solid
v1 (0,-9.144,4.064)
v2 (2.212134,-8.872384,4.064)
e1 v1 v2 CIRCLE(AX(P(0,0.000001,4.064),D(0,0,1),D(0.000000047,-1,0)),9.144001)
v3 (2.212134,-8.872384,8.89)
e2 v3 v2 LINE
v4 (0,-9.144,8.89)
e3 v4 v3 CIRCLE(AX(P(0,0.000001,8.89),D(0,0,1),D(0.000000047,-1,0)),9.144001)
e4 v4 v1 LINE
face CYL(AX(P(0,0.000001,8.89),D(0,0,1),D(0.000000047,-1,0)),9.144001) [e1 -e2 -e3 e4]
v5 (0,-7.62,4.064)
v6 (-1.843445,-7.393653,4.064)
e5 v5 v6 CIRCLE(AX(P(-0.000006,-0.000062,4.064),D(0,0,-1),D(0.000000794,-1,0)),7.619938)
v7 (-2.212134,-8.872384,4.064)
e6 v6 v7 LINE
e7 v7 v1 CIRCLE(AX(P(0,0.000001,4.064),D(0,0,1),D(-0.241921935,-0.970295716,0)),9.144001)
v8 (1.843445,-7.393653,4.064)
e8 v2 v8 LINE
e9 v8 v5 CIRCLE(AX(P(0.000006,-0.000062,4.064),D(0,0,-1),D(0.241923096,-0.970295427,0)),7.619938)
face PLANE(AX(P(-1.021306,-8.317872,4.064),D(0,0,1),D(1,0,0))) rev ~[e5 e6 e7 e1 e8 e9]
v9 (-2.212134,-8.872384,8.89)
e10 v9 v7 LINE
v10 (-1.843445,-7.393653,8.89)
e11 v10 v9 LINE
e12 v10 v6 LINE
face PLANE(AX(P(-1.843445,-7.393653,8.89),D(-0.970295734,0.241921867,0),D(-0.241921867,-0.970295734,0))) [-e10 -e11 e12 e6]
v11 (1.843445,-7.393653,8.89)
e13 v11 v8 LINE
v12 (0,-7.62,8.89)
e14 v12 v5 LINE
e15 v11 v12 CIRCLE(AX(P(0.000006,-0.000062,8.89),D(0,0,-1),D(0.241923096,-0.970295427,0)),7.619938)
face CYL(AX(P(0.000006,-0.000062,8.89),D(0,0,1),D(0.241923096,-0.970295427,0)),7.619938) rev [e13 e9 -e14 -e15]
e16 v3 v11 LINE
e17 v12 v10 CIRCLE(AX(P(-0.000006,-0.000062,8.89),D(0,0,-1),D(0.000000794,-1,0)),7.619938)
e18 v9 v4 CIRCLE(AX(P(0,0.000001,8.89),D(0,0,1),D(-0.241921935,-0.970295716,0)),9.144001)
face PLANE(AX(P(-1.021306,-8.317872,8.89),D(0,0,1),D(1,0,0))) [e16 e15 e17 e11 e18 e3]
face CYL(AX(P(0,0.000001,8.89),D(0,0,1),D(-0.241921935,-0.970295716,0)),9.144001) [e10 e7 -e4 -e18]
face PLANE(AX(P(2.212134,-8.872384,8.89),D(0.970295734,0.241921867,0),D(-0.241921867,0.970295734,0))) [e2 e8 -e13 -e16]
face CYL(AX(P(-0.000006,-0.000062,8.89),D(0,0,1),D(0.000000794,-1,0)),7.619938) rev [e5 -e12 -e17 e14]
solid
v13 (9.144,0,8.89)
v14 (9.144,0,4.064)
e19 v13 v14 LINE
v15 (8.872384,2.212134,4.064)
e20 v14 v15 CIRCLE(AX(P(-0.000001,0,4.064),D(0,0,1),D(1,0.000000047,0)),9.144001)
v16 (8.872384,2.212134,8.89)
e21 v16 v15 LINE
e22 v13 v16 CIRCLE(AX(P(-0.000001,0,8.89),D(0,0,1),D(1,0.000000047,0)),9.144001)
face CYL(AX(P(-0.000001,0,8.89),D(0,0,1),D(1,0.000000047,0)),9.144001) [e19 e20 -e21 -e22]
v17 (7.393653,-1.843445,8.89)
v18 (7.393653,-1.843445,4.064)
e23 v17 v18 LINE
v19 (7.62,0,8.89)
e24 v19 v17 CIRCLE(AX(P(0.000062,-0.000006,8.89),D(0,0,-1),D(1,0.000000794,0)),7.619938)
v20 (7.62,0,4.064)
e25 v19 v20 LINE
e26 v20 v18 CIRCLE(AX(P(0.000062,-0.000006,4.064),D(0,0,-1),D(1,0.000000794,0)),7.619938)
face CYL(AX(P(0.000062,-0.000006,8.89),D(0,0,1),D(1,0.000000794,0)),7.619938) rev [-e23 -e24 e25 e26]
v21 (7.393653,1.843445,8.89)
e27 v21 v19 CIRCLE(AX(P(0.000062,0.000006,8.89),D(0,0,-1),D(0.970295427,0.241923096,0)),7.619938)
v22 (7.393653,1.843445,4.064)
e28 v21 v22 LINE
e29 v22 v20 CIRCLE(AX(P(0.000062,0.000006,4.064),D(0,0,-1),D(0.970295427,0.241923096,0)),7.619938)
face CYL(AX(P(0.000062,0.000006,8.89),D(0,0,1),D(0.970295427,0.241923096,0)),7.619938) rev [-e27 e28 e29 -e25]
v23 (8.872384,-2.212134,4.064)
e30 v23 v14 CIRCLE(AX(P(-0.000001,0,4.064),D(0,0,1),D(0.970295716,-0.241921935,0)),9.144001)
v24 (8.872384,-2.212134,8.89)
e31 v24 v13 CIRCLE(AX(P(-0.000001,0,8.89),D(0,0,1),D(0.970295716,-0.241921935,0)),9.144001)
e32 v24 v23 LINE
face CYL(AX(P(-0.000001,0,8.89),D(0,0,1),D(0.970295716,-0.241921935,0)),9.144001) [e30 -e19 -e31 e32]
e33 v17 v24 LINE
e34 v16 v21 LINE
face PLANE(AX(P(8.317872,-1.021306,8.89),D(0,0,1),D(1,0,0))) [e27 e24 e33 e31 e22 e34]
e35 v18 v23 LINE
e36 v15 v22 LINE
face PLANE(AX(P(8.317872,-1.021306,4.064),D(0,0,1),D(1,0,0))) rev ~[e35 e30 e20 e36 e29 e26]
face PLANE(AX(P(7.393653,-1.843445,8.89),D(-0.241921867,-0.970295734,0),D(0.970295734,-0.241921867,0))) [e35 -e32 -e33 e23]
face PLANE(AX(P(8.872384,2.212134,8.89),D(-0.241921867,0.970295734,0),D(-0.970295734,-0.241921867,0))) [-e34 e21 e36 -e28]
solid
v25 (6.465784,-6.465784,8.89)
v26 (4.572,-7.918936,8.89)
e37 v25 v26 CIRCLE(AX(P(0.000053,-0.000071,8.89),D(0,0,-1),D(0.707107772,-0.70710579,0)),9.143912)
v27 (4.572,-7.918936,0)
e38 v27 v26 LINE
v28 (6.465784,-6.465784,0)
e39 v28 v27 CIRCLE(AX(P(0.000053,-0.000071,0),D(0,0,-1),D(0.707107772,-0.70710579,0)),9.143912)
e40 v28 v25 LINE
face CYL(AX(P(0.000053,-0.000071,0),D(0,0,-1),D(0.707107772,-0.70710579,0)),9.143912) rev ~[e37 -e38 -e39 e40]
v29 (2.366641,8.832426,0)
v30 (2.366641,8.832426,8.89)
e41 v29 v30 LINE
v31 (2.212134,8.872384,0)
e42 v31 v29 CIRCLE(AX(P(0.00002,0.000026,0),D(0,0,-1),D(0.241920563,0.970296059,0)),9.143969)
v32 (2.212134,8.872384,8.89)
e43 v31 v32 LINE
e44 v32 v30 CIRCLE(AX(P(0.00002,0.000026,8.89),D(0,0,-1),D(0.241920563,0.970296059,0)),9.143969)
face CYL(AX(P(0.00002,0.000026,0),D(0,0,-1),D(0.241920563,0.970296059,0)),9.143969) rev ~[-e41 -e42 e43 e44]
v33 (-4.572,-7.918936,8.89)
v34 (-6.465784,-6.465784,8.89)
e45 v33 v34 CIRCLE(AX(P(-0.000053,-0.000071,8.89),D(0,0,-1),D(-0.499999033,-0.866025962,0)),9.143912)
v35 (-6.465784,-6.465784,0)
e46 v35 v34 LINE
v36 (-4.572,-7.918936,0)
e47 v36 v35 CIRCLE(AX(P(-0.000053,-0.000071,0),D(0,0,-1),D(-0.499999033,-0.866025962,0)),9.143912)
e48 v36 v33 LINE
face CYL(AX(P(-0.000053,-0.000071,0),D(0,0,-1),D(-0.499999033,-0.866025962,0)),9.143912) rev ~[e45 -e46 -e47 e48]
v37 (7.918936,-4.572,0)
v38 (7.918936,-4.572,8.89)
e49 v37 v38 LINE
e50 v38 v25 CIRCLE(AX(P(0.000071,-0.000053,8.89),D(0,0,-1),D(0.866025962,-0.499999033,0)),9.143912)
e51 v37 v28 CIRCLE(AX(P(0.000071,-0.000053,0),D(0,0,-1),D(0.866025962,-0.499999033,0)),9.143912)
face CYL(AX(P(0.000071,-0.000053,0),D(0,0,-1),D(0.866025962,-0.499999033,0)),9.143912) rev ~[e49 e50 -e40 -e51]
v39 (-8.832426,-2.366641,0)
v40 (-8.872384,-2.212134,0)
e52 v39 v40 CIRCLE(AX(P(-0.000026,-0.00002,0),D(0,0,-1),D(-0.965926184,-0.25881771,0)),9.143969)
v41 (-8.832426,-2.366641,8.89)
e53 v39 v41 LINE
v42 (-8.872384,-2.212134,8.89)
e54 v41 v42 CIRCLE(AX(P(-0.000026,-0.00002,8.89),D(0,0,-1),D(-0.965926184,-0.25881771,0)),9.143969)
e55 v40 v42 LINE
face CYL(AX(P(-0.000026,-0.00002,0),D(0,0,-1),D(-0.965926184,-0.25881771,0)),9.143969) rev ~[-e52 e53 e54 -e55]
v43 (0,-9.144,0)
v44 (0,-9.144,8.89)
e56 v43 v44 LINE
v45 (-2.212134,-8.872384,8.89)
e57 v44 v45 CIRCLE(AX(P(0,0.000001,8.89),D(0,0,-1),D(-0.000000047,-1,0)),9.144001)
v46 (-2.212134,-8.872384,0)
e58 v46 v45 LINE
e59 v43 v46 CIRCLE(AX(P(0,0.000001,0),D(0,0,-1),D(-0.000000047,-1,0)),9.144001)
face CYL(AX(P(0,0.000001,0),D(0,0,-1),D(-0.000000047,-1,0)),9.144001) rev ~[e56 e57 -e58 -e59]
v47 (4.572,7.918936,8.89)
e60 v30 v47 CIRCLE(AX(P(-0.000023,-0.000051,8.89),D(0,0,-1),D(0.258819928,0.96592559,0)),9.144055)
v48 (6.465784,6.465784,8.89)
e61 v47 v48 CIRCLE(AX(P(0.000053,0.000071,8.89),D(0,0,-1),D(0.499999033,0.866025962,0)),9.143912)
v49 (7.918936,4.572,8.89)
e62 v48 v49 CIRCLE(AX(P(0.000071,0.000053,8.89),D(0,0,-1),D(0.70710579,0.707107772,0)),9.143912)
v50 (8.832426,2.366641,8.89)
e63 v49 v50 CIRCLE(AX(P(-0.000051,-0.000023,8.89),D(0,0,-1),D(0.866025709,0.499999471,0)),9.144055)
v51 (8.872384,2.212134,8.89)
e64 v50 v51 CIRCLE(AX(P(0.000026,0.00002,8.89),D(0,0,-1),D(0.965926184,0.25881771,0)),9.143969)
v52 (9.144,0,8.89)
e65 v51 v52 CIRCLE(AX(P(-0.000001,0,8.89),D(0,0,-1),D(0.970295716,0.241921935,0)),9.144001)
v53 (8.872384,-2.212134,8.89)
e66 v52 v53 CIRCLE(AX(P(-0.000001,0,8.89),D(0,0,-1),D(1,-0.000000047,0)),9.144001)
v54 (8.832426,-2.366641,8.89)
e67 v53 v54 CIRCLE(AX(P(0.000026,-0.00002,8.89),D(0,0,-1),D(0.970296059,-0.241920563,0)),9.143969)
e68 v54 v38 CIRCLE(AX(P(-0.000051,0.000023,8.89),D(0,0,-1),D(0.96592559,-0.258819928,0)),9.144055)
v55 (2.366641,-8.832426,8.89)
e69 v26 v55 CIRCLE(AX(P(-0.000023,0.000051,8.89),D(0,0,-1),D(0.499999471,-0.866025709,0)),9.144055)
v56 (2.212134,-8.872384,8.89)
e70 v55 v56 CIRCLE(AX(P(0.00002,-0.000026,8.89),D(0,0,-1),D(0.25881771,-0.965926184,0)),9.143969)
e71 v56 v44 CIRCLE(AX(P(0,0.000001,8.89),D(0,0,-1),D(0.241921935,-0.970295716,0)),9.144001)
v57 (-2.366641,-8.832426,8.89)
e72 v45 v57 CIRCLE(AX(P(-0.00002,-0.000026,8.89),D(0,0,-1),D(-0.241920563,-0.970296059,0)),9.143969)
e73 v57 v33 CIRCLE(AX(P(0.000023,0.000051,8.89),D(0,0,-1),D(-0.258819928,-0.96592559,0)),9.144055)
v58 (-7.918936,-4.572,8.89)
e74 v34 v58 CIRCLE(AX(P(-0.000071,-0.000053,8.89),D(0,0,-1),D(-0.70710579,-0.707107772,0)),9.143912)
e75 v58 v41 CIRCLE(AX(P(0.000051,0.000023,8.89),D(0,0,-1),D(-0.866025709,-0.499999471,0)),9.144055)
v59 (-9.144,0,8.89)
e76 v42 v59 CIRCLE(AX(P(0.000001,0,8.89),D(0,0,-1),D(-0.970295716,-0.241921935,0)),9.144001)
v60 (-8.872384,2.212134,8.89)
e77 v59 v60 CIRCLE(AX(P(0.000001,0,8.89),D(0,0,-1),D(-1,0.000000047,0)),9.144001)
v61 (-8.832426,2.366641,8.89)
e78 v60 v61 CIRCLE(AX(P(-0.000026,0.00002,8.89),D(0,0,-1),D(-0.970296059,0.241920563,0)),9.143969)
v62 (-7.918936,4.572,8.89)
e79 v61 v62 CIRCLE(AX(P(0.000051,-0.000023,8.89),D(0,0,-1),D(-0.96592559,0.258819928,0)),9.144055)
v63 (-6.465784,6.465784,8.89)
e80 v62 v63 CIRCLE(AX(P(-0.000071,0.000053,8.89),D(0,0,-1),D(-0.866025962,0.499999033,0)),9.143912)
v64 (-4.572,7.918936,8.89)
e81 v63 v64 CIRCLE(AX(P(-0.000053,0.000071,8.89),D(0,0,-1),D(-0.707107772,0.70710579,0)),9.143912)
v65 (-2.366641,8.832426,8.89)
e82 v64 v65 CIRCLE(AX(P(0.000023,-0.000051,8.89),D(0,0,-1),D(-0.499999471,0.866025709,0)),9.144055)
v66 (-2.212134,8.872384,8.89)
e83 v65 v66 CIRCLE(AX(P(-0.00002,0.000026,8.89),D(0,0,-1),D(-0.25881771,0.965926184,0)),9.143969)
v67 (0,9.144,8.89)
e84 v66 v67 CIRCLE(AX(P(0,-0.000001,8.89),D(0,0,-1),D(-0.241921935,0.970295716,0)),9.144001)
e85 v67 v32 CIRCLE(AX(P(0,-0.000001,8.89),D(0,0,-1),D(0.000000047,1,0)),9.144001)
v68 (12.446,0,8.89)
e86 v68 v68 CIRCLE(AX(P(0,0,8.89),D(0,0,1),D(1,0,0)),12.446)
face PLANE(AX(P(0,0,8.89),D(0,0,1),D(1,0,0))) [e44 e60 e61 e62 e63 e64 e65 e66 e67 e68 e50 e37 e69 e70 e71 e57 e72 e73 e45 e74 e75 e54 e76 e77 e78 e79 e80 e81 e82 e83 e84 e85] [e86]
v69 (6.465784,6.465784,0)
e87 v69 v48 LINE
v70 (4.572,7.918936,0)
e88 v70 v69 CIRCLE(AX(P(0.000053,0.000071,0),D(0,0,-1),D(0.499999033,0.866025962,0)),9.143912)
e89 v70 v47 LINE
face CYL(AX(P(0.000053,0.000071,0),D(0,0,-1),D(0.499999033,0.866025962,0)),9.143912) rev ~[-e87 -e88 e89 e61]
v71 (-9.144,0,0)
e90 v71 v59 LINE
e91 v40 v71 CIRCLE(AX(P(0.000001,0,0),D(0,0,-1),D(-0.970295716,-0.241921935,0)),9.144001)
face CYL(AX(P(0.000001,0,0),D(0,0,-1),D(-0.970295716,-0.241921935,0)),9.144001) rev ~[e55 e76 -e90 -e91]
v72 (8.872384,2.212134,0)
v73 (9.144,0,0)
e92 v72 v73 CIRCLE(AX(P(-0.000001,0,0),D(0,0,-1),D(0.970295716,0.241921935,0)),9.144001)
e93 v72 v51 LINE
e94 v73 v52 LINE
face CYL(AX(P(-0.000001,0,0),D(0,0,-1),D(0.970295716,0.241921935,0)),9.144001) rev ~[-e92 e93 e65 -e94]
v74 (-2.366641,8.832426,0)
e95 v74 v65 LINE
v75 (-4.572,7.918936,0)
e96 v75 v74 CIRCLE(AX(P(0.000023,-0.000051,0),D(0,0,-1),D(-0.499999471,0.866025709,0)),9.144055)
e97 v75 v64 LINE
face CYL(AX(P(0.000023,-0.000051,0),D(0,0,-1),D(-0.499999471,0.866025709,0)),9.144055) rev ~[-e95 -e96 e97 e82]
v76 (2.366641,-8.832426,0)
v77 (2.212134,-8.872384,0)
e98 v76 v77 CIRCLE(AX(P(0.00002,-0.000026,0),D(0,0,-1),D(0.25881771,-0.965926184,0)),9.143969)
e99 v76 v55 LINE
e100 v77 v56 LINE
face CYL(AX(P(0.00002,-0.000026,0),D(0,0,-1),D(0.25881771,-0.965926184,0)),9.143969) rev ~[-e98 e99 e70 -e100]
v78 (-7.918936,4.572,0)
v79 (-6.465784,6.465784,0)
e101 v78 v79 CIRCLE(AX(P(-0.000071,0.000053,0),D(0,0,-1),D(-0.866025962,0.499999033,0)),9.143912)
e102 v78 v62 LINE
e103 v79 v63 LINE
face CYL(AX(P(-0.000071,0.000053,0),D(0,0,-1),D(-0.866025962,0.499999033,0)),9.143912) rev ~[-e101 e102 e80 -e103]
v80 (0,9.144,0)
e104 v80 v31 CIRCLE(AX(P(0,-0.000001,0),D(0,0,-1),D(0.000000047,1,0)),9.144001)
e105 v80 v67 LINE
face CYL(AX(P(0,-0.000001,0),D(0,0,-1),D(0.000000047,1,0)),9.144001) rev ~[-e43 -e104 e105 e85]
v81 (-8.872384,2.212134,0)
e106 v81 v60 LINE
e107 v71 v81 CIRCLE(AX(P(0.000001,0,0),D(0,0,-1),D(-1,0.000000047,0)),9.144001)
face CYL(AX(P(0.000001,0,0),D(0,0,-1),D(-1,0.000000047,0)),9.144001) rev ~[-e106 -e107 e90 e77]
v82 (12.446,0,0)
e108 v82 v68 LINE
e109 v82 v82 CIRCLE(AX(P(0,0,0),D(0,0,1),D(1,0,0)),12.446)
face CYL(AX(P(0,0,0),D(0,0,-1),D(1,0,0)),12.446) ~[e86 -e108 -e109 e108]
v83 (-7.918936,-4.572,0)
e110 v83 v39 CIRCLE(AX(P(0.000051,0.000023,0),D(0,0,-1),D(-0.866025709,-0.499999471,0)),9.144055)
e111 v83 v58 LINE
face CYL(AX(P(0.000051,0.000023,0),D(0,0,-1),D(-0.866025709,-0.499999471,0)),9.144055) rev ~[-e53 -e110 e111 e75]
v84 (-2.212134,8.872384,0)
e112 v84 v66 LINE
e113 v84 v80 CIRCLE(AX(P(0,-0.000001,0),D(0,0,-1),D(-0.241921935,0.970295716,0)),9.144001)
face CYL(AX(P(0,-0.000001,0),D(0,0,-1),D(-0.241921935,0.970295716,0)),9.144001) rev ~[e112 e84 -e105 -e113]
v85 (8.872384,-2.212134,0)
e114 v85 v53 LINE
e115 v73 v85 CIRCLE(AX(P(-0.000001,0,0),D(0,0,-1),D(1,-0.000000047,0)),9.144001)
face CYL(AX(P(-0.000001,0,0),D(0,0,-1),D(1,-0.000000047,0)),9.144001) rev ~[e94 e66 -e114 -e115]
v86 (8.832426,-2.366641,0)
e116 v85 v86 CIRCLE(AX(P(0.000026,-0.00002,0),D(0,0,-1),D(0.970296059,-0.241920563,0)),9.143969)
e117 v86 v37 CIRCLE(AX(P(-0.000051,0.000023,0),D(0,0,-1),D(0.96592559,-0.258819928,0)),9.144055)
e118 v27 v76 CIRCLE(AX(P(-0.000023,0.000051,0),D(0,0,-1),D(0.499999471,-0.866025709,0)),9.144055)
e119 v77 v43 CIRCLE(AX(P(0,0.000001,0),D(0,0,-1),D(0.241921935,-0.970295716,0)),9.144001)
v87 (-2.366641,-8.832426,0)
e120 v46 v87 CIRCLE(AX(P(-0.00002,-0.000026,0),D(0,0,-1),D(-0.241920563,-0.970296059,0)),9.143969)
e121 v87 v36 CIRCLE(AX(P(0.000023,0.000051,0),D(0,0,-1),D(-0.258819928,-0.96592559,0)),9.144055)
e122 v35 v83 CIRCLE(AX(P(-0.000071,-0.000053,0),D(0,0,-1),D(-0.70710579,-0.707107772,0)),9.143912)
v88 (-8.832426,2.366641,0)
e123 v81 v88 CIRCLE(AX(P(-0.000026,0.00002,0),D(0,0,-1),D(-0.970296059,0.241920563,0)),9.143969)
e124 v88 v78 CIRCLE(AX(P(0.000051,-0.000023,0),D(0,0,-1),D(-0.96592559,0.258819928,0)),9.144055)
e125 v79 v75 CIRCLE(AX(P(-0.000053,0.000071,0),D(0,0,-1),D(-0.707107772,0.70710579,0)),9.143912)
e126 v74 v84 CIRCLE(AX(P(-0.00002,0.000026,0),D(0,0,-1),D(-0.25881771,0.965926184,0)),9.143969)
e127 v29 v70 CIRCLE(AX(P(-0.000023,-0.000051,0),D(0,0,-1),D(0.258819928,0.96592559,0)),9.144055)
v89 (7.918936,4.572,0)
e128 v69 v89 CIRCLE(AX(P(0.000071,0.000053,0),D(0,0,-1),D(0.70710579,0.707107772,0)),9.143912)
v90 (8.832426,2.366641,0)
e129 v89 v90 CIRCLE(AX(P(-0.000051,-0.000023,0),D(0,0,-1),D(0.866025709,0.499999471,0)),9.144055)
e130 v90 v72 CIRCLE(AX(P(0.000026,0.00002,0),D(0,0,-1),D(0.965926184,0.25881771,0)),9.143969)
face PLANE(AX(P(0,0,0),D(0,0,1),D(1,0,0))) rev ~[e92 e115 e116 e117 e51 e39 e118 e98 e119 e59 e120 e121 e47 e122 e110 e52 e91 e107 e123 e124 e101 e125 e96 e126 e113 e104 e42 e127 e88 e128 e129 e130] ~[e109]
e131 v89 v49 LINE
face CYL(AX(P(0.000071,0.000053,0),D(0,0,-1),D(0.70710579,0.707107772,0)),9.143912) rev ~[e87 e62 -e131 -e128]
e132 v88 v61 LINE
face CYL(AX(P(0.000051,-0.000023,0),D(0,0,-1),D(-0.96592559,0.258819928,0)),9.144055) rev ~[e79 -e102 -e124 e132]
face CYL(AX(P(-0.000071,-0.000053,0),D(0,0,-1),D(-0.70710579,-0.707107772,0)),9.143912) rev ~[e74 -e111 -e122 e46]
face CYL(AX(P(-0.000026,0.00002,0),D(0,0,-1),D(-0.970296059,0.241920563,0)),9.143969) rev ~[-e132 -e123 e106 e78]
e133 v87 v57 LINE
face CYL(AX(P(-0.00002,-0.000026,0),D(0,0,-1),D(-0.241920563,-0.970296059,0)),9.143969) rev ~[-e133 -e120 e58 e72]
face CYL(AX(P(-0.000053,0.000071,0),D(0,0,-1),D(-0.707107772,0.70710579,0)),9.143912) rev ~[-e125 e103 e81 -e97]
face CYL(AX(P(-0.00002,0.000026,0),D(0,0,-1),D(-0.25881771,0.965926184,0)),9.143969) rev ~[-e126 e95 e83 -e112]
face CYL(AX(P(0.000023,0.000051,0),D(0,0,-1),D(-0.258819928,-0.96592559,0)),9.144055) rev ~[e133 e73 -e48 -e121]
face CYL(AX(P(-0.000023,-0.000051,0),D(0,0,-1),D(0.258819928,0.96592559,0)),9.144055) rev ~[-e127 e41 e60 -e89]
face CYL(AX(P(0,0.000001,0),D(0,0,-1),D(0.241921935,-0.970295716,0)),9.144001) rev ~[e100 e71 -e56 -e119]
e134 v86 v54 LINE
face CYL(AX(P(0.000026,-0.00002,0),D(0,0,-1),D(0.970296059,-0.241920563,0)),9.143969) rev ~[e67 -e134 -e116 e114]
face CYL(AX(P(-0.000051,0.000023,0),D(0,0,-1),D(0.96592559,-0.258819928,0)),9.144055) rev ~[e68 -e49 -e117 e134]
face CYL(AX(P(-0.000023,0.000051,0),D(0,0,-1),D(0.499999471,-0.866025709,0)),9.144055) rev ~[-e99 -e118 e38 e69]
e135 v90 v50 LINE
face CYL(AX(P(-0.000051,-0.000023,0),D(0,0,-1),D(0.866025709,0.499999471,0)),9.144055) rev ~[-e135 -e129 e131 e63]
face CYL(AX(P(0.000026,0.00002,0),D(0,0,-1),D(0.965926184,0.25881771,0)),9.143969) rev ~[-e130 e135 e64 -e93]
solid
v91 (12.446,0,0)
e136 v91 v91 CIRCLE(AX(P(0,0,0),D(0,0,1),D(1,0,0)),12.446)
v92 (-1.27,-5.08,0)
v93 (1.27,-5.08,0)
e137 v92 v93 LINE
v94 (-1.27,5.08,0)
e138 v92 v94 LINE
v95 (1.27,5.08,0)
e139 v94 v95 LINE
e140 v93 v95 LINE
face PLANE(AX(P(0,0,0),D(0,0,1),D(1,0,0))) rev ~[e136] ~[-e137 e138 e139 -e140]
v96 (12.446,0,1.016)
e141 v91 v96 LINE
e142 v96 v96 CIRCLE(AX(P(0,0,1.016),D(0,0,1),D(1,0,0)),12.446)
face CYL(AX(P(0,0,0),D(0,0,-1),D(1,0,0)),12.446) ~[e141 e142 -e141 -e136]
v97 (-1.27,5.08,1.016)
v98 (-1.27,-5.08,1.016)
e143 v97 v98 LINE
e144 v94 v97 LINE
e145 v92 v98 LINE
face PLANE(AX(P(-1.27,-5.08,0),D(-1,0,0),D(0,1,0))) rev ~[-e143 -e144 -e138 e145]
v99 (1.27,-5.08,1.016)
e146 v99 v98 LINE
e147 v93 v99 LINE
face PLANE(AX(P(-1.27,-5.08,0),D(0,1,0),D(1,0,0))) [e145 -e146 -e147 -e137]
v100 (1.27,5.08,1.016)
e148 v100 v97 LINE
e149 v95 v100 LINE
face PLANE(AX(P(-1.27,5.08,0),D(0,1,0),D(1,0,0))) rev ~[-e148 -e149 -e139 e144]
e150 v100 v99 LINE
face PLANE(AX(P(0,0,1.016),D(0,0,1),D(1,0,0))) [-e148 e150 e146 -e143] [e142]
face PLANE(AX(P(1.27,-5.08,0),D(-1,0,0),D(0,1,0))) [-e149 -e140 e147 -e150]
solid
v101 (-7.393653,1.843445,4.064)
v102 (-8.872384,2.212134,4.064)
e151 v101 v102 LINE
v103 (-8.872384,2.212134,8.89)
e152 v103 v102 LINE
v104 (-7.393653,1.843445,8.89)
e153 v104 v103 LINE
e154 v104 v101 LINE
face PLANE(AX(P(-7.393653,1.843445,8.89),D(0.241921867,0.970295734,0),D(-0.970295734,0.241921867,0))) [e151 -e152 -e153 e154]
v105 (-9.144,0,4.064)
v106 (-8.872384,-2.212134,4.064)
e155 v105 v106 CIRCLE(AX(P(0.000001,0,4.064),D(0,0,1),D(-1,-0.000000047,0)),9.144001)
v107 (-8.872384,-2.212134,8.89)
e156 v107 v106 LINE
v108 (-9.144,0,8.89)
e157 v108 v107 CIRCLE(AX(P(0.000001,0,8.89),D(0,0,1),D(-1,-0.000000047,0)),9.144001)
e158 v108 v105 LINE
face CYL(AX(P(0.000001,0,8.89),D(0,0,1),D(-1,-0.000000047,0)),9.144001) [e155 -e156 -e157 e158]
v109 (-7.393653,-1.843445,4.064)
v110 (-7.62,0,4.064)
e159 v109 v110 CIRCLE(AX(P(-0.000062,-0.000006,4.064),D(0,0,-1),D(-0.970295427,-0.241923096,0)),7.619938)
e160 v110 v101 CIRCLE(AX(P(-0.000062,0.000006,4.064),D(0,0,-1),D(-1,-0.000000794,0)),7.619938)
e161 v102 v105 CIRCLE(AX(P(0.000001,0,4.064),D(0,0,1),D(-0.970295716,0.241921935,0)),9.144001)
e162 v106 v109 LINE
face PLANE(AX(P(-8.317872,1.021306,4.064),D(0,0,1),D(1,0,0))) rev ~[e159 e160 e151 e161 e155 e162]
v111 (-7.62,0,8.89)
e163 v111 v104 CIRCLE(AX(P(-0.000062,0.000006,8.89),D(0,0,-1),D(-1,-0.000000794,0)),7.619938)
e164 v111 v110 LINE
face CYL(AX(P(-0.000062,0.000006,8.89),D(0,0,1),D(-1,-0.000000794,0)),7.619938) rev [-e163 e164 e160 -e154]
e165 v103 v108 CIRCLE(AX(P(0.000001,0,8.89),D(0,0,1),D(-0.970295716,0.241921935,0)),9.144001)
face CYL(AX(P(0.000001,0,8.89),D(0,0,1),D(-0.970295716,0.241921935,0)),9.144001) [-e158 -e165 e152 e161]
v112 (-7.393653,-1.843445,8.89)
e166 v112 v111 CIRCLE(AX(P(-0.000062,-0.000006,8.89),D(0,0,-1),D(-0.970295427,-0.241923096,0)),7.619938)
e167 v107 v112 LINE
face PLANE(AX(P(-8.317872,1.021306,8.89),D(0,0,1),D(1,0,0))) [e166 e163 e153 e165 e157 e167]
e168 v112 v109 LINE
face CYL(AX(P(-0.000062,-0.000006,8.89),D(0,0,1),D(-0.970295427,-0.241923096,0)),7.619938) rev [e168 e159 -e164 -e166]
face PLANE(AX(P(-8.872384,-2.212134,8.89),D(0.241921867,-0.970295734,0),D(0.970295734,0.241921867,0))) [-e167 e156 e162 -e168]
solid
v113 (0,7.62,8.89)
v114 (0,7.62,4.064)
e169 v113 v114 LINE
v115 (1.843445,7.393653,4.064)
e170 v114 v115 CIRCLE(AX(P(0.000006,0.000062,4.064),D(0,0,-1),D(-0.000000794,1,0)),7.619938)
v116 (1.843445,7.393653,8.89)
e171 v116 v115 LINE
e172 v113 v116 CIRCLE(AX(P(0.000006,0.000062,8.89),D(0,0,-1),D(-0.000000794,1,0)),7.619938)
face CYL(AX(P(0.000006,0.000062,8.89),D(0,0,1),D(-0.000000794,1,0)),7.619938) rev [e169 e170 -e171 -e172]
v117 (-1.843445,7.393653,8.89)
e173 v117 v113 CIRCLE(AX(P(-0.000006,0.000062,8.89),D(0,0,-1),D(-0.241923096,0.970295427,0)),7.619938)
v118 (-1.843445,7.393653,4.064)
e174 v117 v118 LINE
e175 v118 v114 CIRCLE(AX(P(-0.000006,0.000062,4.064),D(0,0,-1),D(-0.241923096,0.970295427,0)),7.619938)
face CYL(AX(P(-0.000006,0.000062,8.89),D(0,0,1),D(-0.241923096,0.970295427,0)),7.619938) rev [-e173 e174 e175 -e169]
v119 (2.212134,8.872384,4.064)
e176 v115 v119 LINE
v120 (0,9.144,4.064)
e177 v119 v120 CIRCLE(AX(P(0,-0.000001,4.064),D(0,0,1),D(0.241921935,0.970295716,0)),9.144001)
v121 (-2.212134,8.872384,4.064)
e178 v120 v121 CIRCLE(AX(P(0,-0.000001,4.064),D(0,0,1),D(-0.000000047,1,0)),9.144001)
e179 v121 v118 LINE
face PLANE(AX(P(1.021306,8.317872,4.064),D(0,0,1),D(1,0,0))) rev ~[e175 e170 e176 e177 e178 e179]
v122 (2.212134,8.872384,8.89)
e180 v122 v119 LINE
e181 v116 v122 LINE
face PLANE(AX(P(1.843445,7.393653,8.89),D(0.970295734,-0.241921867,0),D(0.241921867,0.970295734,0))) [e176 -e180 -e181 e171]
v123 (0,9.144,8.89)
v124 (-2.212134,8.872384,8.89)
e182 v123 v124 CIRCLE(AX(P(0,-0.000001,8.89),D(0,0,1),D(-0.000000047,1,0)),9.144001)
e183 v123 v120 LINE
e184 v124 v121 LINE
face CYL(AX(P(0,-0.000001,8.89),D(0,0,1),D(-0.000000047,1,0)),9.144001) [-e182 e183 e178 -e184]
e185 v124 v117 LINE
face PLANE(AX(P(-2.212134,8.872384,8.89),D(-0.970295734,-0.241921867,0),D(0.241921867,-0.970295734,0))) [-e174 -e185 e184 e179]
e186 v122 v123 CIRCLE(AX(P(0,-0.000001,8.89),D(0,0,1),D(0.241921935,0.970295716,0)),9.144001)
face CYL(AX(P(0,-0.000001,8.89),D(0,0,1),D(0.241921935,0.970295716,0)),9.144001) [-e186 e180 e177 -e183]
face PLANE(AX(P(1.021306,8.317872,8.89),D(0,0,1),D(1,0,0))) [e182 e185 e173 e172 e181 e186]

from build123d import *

# Parameters (mm, degrees)
F0_R     = 12.446
F1_DEPTH = 8.89
F3_DEPTH = 4.826
F4_R     = 12.446
F5_DEPTH = 1.016
F6_W     = 2.54
F6_H     = 10.16
F7_DEPTH = 2.54


with BuildPart() as f1:
    # F0 (on Top) → F1 (new body)
    with BuildSketch(Plane.XY):
        Circle(F0_R)
        with BuildLine():
            ThreePointArc((8.872384, 2.212134), (9.075842, 1.114373), (9.144, 0))
            ThreePointArc((9.144, 0), (9.075842, -1.114373), (8.872384, -2.212134))
            ThreePointArc((8.872384, -2.212134), (8.852742, -2.289475), (8.832426, -2.366641))
            ThreePointArc((8.832426, -2.366641), (8.447954, -3.499257), (7.918936, -4.572))
            ThreePointArc((7.918936, -4.572), (7.254423, -5.566515), (6.465784, -6.465784))
            ThreePointArc((6.465784, -6.465784), (5.566515, -7.254423), (4.572, -7.918936))
            ThreePointArc((4.572, -7.918936), (3.499257, -8.447954), (2.366641, -8.832426))
            ThreePointArc((2.366641, -8.832426), (2.289475, -8.852742), (2.212134, -8.872384))
            ThreePointArc((2.212134, -8.872384), (1.114373, -9.075842), (0, -9.144))
            ThreePointArc((0, -9.144), (-1.114373, -9.075842), (-2.212134, -8.872384))
            ThreePointArc((-2.212134, -8.872384), (-2.289475, -8.852742), (-2.366641, -8.832426))
            ThreePointArc((-2.366641, -8.832426), (-3.499257, -8.447954), (-4.572, -7.918936))
            ThreePointArc((-4.572, -7.918936), (-5.566515, -7.254423), (-6.465784, -6.465784))
            ThreePointArc((-6.465784, -6.465784), (-7.254423, -5.566515), (-7.918936, -4.572))
            ThreePointArc((-7.918936, -4.572), (-8.447954, -3.499257), (-8.832426, -2.366641))
            ThreePointArc((-8.832426, -2.366641), (-8.852742, -2.289475), (-8.872384, -2.212134))
            ThreePointArc((-8.872384, -2.212134), (-9.075842, -1.114373), (-9.144, 0))
            ThreePointArc((-9.144, 0), (-9.075842, 1.114373), (-8.872384, 2.212134))
            ThreePointArc((-8.872384, 2.212134), (-8.852742, 2.289475), (-8.832426, 2.366641))
            ThreePointArc((-8.832426, 2.366641), (-8.447954, 3.499257), (-7.918936, 4.572))
            ThreePointArc((-7.918936, 4.572), (-7.254423, 5.566515), (-6.465784, 6.465784))
            ThreePointArc((-6.465784, 6.465784), (-5.566515, 7.254423), (-4.572, 7.918936))
            ThreePointArc((-4.572, 7.918936), (-3.499257, 8.447954), (-2.366641, 8.832426))
            ThreePointArc((-2.366641, 8.832426), (-2.289475, 8.852742), (-2.212134, 8.872384))
            ThreePointArc((-2.212134, 8.872384), (-1.114373, 9.075842), (0, 9.144))
            ThreePointArc((0, 9.144), (1.114373, 9.075842), (2.212134, 8.872384))
            ThreePointArc((2.212134, 8.872384), (2.289475, 8.852742), (2.366641, 8.832426))
            ThreePointArc((2.366641, 8.832426), (3.499257, 8.447954), (4.572, 7.918936))
            ThreePointArc((4.572, 7.918936), (5.566515, 7.254423), (6.465784, 6.465784))
            ThreePointArc((6.465784, 6.465784), (7.254423, 5.566515), (7.918936, 4.572))
            ThreePointArc((7.918936, 4.572), (8.447954, 3.499257), (8.832426, 2.366641))
            ThreePointArc((8.832426, 2.366641), (8.852742, 2.289475), (8.872384, 2.212134))
        make_face(mode=Mode.SUBTRACT)
    extrude(amount=F1_DEPTH)


with BuildPart() as f3:
    # F2 (on face) → F3 (new body)
    with BuildSketch(Plane.XY.offset(8.89)):
        with BuildLine():
            ThreePointArc((-8.872384, 2.212134), (-9.075842, 1.114373), (-9.144, 0))
            Line((-9.144, 0), (-7.62, 0))
            ThreePointArc((-7.62, 0), (-7.563202, 0.928644), (-7.393653, 1.843445))
            Line((-7.393653, 1.843445), (-8.872384, 2.212134))
        make_face()
        with BuildLine():
            Line((-7.62, 0), (-9.144, 0))
            ThreePointArc((-9.144, 0), (-9.075842, -1.114373), (-8.872384, -2.212134))
            Line((-8.872384, -2.212134), (-7.393653, -1.843445))
            ThreePointArc((-7.393653, -1.843445), (-7.563202, -0.928644), (-7.62, 0))
        make_face()
        with BuildLine():
            ThreePointArc((-2.212134, -8.872384), (-1.114373, -9.075842), (0, -9.144))
            Line((0, -9.144), (0, -7.62))
            ThreePointArc((0, -7.62), (-0.928644, -7.563202), (-1.843445, -7.393653))
            Line((-1.843445, -7.393653), (-2.212134, -8.872384))
        make_face()
        with BuildLine():
            Line((0, -7.62), (0, -9.144))
            ThreePointArc((0, -9.144), (1.114373, -9.075842), (2.212134, -8.872384))
            Line((2.212134, -8.872384), (1.843445, -7.393653))
            ThreePointArc((1.843445, -7.393653), (0.928644, -7.563202), (0, -7.62))
        make_face()
        with BuildLine():
            ThreePointArc((8.872384, -2.212134), (9.075842, -1.114373), (9.144, 0))
            Line((9.144, 0), (7.62, 0))
            ThreePointArc((7.62, 0), (7.563202, -0.928644), (7.393653, -1.843445))
            Line((7.393653, -1.843445), (8.872384, -2.212134))
        make_face()
        with BuildLine():
            Line((7.62, 0), (9.144, 0))
            ThreePointArc((9.144, 0), (9.075842, 1.114373), (8.872384, 2.212134))
            Line((8.872384, 2.212134), (7.393653, 1.843445))
            ThreePointArc((7.393653, 1.843445), (7.563202, 0.928644), (7.62, 0))
        make_face()
        with BuildLine():
            ThreePointArc((2.212134, 8.872384), (1.114373, 9.075842), (0, 9.144))
            Line((0, 9.144), (0, 7.62))
            ThreePointArc((0, 7.62), (0.928644, 7.563202), (1.843445, 7.393653))
            Line((1.843445, 7.393653), (2.212134, 8.872384))
        make_face()
        with BuildLine():
            Line((0, 7.62), (0, 9.144))
            ThreePointArc((0, 9.144), (-1.114373, 9.075842), (-2.212134, 8.872384))
            Line((-2.212134, 8.872384), (-1.843445, 7.393653))
            ThreePointArc((-1.843445, 7.393653), (-0.928644, 7.563202), (0, 7.62))
        make_face()
    extrude(amount=-F3_DEPTH)


with BuildPart() as f5:
    # F4 (on face) → F5 (new body)
    with BuildSketch(Plane.XY):
        Circle(F4_R)
    extrude(amount=F5_DEPTH)

    # F6 (on face) → F7 (cut)
    with BuildSketch(Plane.XY):
        Rectangle(F6_W, F6_H)
    extrude(amount=F7_DEPTH, mode=Mode.SUBTRACT)


solid = Compound([f1.part, f3.part, f5.part])
